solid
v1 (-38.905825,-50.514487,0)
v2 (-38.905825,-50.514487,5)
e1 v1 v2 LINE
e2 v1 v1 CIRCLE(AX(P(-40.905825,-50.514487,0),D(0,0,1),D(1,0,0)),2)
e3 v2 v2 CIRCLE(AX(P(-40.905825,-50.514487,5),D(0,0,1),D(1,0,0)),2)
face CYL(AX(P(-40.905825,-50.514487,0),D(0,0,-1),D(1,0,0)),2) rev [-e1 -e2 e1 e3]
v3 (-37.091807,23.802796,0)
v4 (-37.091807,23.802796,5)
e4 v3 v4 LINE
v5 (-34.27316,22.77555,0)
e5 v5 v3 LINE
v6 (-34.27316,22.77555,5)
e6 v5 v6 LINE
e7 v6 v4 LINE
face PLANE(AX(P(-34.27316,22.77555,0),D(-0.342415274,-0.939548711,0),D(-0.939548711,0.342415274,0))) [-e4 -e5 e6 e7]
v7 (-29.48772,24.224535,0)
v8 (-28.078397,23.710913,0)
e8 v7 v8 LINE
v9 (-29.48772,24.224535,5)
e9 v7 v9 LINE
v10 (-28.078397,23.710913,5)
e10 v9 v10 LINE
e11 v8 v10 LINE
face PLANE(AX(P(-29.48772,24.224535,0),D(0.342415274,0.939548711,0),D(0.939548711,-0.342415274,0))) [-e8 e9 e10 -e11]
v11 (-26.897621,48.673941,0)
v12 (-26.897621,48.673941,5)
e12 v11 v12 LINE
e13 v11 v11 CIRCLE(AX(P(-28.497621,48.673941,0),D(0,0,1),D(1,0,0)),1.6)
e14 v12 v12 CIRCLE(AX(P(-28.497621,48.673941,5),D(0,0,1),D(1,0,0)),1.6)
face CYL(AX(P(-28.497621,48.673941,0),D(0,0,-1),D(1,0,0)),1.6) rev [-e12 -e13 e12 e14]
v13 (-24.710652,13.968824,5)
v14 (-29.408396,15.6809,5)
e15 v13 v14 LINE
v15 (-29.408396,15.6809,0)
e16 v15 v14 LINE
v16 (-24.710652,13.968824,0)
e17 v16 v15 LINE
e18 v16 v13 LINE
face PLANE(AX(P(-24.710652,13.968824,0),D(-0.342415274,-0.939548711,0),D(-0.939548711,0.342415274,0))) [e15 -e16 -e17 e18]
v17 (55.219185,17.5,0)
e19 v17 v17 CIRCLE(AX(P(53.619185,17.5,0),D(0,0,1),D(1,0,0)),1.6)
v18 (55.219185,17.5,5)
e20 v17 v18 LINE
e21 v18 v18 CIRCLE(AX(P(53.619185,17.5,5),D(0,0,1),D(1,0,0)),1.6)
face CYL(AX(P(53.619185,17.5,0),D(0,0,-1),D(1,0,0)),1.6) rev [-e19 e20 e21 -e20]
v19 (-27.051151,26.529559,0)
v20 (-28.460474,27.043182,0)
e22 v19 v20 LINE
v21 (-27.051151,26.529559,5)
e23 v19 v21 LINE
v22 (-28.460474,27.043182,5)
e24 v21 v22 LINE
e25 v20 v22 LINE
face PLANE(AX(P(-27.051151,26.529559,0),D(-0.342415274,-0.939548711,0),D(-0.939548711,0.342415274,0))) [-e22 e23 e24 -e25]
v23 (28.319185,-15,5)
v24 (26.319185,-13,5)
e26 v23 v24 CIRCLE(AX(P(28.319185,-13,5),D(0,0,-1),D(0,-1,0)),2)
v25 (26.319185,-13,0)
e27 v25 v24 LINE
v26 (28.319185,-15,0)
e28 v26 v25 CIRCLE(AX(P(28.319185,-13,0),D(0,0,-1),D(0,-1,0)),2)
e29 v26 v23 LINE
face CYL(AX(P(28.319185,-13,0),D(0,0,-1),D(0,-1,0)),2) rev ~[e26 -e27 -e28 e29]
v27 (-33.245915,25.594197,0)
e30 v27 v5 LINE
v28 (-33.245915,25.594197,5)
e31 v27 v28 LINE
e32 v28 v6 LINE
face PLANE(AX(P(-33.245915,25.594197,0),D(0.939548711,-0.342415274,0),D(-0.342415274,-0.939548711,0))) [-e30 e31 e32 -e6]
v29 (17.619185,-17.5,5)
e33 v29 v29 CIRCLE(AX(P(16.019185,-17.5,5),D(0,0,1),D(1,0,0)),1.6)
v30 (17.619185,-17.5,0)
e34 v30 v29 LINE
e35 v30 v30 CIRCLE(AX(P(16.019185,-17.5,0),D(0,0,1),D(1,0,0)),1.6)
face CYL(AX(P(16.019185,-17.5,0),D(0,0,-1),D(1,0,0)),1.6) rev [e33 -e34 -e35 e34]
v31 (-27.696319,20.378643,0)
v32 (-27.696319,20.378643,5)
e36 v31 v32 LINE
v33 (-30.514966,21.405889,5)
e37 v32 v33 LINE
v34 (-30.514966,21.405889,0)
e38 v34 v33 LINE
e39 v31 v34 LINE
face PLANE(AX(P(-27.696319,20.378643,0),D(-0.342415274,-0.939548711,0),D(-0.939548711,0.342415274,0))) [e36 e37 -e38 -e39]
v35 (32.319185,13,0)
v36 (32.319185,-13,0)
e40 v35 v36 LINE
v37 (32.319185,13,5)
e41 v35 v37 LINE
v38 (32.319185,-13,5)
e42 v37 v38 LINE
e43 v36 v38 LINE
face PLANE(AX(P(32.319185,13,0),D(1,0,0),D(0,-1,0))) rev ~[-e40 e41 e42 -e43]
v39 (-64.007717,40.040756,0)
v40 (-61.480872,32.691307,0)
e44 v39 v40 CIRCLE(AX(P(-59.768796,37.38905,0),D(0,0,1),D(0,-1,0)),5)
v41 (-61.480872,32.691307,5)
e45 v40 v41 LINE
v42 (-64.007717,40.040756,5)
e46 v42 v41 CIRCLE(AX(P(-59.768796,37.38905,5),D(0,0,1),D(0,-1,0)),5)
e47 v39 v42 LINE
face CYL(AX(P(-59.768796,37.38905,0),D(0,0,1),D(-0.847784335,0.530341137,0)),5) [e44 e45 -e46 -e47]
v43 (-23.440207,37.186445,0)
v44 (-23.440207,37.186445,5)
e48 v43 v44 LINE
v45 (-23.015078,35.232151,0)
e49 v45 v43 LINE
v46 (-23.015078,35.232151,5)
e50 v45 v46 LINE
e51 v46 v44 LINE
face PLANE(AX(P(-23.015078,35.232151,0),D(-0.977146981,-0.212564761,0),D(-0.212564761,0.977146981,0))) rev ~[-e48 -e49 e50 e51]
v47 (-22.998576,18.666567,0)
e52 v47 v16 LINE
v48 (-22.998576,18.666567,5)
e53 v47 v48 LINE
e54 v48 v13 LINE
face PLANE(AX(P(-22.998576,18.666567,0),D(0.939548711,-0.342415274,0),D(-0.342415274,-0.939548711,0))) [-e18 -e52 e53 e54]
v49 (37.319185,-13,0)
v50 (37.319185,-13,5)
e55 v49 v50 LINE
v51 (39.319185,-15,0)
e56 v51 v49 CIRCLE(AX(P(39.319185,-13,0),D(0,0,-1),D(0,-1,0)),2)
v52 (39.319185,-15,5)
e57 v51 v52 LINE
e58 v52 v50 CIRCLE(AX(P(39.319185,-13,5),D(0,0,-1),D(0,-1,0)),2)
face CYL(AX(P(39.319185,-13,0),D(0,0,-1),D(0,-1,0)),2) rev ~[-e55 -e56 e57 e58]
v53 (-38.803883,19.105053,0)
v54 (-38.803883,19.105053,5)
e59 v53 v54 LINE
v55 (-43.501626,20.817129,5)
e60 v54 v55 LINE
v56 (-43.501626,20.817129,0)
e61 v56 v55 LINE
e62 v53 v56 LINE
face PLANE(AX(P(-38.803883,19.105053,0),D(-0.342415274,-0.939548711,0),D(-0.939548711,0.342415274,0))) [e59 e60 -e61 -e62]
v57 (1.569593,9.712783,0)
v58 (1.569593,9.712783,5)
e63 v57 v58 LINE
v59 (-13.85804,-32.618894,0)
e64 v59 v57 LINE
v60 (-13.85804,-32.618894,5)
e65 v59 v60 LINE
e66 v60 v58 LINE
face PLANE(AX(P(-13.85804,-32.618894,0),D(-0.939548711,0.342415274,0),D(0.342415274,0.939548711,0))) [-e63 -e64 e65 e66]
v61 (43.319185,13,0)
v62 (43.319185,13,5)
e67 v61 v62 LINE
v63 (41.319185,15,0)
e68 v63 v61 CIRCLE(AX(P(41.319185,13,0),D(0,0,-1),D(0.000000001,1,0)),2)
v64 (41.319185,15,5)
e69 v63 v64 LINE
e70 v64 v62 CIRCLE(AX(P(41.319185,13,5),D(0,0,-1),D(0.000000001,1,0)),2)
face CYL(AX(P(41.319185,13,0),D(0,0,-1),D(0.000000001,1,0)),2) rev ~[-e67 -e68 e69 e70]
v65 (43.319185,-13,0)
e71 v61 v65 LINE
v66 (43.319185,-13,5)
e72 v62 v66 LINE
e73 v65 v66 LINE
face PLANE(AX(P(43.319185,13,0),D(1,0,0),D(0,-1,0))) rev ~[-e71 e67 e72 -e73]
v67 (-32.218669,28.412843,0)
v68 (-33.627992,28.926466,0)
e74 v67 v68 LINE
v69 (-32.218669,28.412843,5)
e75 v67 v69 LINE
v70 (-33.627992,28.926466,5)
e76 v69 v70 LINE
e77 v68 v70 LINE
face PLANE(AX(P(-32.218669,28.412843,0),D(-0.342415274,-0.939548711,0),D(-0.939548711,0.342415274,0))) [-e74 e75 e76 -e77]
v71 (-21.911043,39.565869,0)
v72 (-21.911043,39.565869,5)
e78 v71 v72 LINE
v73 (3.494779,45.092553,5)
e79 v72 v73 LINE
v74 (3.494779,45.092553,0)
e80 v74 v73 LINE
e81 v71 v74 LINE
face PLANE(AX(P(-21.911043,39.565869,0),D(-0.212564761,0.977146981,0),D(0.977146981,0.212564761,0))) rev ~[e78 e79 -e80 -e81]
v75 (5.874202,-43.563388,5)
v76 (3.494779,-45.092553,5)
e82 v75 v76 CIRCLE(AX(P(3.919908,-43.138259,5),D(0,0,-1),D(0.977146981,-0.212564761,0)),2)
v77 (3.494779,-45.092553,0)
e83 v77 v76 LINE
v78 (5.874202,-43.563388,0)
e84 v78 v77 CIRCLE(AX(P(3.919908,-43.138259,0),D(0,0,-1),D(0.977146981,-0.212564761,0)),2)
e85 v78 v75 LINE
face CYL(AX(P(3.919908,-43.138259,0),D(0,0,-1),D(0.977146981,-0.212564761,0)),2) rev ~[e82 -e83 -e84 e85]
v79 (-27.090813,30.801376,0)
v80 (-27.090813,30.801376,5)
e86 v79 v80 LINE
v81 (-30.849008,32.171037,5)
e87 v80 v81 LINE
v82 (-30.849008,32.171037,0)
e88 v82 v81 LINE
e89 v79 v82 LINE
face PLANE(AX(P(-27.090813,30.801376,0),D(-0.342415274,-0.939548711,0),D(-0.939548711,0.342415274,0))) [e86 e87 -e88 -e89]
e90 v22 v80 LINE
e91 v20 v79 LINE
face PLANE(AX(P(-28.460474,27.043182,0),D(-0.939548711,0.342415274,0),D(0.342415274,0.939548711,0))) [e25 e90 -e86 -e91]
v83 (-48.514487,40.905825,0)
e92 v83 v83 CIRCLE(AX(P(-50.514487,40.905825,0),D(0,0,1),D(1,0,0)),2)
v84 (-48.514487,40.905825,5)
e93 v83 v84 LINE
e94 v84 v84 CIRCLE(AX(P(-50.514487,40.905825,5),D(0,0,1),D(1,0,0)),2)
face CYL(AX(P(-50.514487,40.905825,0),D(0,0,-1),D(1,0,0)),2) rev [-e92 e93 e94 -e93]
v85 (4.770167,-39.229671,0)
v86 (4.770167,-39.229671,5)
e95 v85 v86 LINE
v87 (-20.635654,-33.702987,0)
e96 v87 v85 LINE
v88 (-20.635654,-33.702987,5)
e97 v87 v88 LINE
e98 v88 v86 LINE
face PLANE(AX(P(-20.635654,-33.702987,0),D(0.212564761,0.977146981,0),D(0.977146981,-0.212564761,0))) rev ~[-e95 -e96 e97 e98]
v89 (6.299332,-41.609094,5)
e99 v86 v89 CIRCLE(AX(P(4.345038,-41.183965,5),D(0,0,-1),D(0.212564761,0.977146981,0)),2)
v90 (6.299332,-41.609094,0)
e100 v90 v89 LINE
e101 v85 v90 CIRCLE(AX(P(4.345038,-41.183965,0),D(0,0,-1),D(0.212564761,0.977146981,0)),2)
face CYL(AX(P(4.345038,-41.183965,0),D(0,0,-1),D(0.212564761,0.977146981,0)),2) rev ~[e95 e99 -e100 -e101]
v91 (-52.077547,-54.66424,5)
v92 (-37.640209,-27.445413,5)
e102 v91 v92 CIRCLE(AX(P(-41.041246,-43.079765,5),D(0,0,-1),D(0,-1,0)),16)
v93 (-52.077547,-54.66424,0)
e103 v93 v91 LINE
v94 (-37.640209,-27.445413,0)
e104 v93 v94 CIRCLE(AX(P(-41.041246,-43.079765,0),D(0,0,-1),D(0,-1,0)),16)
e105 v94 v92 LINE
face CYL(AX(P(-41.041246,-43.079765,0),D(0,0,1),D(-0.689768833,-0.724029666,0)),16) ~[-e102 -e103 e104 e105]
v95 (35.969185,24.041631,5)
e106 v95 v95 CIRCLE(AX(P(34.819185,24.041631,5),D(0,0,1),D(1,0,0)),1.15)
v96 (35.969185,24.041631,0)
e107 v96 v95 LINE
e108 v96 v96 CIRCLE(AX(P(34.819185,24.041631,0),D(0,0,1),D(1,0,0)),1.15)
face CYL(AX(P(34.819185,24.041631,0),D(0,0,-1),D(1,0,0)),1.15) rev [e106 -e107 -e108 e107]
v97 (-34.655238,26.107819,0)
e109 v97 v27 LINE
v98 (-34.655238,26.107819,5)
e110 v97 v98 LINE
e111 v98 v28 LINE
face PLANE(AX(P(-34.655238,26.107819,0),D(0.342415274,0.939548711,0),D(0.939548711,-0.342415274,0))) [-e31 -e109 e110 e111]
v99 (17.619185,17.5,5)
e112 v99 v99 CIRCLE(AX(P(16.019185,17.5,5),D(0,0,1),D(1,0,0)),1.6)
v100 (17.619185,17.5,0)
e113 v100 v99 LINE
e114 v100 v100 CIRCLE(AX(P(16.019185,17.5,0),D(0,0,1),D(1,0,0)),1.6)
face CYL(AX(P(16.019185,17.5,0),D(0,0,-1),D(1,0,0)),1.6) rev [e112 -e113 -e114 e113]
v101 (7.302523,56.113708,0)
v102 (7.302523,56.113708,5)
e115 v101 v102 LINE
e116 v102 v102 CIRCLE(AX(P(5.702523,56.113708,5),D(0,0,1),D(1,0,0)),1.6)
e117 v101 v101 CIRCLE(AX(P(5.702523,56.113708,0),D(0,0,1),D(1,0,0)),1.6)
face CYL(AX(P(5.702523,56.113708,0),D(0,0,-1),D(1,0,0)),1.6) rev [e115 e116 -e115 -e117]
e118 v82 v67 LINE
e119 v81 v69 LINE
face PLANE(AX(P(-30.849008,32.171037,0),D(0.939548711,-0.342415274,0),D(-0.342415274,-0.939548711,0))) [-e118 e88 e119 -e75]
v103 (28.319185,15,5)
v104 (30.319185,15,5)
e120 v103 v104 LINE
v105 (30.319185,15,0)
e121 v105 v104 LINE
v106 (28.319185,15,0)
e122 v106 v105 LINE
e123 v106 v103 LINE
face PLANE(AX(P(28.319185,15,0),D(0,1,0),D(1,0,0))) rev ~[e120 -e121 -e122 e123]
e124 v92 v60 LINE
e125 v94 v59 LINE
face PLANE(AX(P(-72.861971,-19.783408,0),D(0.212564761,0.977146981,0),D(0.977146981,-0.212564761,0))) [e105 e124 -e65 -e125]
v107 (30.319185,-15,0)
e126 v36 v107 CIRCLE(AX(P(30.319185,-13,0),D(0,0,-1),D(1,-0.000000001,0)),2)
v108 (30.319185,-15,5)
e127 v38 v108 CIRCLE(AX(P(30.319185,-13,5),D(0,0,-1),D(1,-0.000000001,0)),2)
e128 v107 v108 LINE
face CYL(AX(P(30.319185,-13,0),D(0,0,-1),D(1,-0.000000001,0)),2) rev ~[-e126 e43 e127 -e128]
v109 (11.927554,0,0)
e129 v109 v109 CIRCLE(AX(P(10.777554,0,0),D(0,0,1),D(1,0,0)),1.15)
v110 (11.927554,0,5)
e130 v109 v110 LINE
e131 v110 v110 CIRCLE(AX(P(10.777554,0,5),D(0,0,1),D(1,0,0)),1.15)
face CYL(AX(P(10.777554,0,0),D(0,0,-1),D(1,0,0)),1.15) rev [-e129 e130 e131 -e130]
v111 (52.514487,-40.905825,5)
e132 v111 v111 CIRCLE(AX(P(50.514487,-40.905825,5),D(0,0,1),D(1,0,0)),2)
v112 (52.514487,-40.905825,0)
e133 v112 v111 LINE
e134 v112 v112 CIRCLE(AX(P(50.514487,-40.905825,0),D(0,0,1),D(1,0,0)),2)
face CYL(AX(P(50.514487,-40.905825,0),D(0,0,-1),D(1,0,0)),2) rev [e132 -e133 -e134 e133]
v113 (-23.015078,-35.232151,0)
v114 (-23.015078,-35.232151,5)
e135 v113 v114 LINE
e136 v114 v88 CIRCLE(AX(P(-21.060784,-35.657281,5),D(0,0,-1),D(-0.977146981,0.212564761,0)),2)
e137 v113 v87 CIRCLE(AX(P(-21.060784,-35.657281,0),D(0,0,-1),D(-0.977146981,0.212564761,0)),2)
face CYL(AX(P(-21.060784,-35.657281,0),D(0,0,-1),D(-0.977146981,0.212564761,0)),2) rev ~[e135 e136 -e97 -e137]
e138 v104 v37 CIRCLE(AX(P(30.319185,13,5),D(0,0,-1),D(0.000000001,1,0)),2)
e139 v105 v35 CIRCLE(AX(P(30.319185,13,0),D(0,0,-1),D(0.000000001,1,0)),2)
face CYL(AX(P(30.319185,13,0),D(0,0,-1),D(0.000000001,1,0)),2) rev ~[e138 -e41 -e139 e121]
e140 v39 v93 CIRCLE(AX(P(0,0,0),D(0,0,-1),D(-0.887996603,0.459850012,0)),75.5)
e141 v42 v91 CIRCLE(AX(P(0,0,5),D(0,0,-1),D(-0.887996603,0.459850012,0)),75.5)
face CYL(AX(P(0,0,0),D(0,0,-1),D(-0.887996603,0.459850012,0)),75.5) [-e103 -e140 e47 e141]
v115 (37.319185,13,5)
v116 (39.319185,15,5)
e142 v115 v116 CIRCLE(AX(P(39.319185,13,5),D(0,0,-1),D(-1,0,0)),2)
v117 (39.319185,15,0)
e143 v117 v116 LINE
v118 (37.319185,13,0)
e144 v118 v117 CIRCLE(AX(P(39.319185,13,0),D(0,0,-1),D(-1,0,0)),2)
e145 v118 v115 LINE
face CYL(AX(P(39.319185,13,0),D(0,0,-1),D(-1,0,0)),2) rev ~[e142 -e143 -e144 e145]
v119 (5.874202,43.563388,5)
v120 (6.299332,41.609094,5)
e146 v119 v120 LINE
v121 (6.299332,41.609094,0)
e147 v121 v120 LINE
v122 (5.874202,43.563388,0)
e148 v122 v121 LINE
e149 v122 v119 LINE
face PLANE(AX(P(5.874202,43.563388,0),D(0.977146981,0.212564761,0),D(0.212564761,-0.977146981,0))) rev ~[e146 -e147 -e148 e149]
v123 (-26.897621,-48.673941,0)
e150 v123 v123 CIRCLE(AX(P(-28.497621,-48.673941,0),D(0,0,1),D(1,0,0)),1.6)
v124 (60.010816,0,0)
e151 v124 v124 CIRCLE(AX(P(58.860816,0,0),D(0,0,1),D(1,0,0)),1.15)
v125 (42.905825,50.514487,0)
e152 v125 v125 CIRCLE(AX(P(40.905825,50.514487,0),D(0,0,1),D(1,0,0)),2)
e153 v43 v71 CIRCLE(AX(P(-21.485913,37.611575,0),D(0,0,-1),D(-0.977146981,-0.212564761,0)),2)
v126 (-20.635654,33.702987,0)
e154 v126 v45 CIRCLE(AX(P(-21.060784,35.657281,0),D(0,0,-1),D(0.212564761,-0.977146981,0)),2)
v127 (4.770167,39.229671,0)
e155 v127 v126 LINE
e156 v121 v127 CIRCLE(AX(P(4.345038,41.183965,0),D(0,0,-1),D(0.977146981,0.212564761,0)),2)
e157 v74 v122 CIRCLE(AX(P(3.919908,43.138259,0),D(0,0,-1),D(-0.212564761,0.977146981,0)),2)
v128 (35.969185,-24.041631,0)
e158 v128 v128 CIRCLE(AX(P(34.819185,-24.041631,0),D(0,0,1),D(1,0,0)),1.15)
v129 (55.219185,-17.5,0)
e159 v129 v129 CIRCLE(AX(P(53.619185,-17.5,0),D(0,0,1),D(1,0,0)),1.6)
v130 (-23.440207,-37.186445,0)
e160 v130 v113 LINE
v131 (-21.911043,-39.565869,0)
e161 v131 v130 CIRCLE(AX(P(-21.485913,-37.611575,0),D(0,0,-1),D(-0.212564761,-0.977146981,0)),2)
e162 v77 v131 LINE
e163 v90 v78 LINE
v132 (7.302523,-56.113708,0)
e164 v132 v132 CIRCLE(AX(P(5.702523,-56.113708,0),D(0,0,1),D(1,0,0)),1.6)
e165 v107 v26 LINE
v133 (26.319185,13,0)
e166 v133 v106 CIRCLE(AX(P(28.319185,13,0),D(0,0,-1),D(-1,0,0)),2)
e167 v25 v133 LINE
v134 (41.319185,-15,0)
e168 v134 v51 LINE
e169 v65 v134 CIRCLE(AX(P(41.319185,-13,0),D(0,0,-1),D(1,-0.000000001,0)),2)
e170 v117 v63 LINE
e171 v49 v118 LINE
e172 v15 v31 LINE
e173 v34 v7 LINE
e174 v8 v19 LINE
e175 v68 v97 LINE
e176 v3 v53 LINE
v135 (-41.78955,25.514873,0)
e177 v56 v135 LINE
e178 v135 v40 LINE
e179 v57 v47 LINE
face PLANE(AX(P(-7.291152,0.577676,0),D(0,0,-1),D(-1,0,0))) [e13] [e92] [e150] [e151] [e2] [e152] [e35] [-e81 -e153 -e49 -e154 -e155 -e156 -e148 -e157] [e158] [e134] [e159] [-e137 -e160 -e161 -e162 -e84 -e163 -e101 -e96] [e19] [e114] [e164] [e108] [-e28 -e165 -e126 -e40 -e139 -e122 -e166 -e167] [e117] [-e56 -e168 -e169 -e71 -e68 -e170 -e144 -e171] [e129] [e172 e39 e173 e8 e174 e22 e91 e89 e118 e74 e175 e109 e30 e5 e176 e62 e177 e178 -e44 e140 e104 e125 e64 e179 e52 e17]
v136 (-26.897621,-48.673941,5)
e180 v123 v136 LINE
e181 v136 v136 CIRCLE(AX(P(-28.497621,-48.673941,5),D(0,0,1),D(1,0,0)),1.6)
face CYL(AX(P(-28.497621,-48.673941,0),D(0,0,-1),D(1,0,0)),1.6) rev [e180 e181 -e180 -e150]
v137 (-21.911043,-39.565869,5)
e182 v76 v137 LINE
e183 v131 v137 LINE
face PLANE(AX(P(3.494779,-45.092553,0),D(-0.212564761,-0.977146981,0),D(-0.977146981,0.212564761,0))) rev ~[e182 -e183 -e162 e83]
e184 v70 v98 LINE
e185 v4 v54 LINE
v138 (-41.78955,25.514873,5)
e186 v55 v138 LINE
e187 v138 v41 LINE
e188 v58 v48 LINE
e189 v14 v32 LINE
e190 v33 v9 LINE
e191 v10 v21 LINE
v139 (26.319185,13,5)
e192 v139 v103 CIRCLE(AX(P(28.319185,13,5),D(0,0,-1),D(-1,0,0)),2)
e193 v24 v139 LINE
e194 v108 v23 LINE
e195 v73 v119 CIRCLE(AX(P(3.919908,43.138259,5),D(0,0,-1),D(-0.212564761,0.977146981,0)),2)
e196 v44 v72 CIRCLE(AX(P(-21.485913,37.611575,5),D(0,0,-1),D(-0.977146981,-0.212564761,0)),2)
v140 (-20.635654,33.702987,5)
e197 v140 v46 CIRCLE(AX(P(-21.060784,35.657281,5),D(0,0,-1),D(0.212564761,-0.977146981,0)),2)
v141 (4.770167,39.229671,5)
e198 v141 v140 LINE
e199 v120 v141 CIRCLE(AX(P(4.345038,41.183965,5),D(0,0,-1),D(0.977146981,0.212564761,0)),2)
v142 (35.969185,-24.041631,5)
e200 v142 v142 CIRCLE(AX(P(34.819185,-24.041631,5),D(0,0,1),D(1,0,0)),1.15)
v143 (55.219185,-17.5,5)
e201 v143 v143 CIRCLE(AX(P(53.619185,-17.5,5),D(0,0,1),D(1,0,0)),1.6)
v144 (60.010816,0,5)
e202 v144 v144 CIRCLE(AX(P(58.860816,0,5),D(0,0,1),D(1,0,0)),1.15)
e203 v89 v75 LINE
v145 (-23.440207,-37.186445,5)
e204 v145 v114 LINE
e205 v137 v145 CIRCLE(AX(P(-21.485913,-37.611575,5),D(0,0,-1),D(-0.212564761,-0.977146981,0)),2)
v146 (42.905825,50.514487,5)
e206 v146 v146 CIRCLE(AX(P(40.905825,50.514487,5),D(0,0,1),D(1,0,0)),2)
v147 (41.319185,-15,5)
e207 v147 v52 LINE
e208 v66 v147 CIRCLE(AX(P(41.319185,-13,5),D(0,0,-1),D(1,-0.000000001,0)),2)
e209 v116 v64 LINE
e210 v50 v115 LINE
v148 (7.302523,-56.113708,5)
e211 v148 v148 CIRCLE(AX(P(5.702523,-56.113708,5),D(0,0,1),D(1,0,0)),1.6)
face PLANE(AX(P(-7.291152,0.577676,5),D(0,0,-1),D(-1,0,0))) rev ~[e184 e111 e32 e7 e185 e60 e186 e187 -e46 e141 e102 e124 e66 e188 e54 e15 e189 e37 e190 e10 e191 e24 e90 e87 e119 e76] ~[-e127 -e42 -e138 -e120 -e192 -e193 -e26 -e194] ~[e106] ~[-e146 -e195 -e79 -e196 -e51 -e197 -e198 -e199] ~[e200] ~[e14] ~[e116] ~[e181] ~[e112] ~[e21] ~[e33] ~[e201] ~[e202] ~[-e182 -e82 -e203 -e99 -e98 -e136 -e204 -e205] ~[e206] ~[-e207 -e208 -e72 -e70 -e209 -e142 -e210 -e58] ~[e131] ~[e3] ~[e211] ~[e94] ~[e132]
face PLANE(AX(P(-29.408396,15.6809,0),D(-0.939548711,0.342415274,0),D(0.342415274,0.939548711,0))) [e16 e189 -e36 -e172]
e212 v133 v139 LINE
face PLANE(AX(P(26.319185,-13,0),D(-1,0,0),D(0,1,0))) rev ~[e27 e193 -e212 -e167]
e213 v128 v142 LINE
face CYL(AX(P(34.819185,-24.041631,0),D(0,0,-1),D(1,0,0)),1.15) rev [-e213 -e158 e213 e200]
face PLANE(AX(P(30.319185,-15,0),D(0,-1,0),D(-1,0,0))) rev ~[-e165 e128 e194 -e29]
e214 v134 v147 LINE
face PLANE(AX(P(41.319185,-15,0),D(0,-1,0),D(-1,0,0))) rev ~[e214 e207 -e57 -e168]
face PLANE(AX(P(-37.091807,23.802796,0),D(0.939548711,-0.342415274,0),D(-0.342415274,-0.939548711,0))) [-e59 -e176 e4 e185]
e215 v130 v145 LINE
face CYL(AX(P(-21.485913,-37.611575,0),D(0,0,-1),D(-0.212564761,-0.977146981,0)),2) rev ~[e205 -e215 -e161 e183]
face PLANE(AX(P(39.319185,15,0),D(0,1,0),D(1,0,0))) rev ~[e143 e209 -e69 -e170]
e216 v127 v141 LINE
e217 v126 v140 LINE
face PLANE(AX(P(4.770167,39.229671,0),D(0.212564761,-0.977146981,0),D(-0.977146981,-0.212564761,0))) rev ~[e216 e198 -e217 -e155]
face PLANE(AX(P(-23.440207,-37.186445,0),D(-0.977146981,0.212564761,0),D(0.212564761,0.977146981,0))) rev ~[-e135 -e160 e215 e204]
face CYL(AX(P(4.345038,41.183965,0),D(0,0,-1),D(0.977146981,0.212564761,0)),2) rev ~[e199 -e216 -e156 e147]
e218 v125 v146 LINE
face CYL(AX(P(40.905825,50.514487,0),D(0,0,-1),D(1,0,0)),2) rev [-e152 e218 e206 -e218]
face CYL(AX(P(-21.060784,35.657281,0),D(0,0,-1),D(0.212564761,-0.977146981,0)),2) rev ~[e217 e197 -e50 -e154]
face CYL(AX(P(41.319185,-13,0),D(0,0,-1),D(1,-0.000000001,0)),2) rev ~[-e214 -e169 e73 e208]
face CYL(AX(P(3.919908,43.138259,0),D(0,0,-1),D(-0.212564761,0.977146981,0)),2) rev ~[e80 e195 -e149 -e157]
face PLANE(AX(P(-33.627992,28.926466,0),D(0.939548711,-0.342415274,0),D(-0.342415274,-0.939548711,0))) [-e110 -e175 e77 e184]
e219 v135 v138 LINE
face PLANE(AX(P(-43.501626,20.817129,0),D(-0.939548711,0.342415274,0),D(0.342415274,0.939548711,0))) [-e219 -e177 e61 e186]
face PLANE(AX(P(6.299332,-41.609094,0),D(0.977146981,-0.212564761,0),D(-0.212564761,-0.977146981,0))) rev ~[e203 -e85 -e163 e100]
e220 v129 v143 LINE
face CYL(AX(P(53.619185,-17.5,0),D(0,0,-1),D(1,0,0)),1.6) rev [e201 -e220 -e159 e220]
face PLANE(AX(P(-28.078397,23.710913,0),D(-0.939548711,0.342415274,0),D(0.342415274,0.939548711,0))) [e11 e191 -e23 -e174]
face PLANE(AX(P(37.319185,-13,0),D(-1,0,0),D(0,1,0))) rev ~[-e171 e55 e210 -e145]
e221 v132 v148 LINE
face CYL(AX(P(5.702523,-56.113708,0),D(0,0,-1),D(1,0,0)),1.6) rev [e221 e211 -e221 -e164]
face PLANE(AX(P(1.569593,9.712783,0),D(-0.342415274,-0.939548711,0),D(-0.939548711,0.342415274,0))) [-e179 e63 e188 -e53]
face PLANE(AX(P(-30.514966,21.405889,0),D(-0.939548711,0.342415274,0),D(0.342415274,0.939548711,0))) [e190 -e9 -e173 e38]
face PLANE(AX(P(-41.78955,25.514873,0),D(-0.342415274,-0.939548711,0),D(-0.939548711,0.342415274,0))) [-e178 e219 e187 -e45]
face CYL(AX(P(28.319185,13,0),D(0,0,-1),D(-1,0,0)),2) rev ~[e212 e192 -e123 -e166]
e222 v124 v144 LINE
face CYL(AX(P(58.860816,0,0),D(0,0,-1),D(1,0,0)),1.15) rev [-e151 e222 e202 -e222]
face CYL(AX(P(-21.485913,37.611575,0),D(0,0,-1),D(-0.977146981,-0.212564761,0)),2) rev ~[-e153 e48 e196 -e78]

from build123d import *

# Parameters (mm, degrees)
ESQUISSE1_R        = 2
ESQUISSE1_R_2      = 1.6
ESQUISSE1_R_3      = 1.15
BOSS_EXTRU_1_DEPTH = 5
CONG_1_R           = 16
CONG_2_R           = 5


with BuildPart() as part:
    # Esquisse1 → Boss.-Extru.1 (new body)
    with BuildSketch(Plane.XY):
        with BuildLine():
            Line((-41.789550091, 25.514872575), (-67.043743505, 34.718675909))
            ThreePointArc((-67.043743505, 34.718675909), (75.07344073, -8.014268337), (-72.8619706, -19.783408206))
            Line((-72.8619706, -19.783408206), (-13.85803971, -32.618894281))
            Line((-13.85803971, -32.618894281), (1.569593433, 9.712782871))
            Line((1.569593433, 9.712782871), (-22.998575873, 18.666567095))
            Line((-22.998575873, 18.666567095), (-24.710652243, 13.96882354))
            Line((-24.710652243, 13.96882354), (-29.408395797, 15.68089991))
            Line((-29.408395797, 15.68089991), (-27.696319427, 20.378643465))
            Line((-27.696319427, 20.378643465), (-30.51496556, 21.405889287))
            Line((-30.51496556, 21.405889287), (-29.487719738, 24.224535419))
            Line((-29.487719738, 24.224535419), (-28.078396672, 23.710912508))
            Line((-28.078396672, 23.710912508), (-27.05115085, 26.529558641))
            Line((-27.05115085, 26.529558641), (-28.460473916, 27.043181552))
            Line((-28.460473916, 27.043181552), (-27.09081282, 30.801376396))
            Line((-27.09081282, 30.801376396), (-30.849007664, 32.171037492))
            Line((-30.849007664, 32.171037492), (-32.21866876, 28.412842648))
            Line((-32.21866876, 28.412842648), (-33.627991826, 28.926465559))
            Line((-33.627991826, 28.926465559), (-34.655237648, 26.107819426))
            Line((-34.655237648, 26.107819426), (-33.245914582, 25.594196515))
            Line((-33.245914582, 25.594196515), (-34.273160404, 22.775550383))
            Line((-34.273160404, 22.775550383), (-37.091806536, 23.802796205))
            Line((-37.091806536, 23.802796205), (-38.803882906, 19.10505265))
            Line((-38.803882906, 19.10505265), (-43.501626461, 20.81712902))
            Line((-43.501626461, 20.81712902), (-41.789550091, 25.514872575))
        make_face()
        with Locations((40.905825418, 50.514487495)):
            Circle(ESQUISSE1_R, mode=Mode.SUBTRACT)
        with Locations((-50.514487495, 40.905825418)):
            Circle(ESQUISSE1_R, mode=Mode.SUBTRACT)
        with Locations((50.514487495, -40.905825418)):
            Circle(ESQUISSE1_R, mode=Mode.SUBTRACT)
        with Locations((-40.905825418, -50.514487495)):
            Circle(ESQUISSE1_R, mode=Mode.SUBTRACT)
        with Locations((-28.497621404, 48.673941395)):
            Circle(ESQUISSE1_R_2, mode=Mode.SUBTRACT)
        with Locations((5.702522929, 56.11370803)):
            Circle(ESQUISSE1_R_2, mode=Mode.SUBTRACT)
        with Locations((5.702522929, -56.11370803)):
            Circle(ESQUISSE1_R_2, mode=Mode.SUBTRACT)
        with Locations((-28.497621404, -48.673941395)):
            Circle(ESQUISSE1_R_2, mode=Mode.SUBTRACT)
        with Locations((53.619184968, 17.5)):
            Circle(ESQUISSE1_R_2, mode=Mode.SUBTRACT)
        with Locations((53.619184968, -17.5)):
            Circle(ESQUISSE1_R_2, mode=Mode.SUBTRACT)
        with Locations((16.019184968, -17.5)):
            Circle(ESQUISSE1_R_2, mode=Mode.SUBTRACT)
        with Locations((16.019184968, 17.5)):
            Circle(ESQUISSE1_R_2, mode=Mode.SUBTRACT)
        with Locations((10.777554407, 0)):
            Circle(ESQUISSE1_R_3, mode=Mode.SUBTRACT)
        with Locations((34.819184968, 24.04163056)):
            Circle(ESQUISSE1_R_3, mode=Mode.SUBTRACT)
        with Locations((58.860815528, 0)):
            Circle(ESQUISSE1_R_3, mode=Mode.SUBTRACT)
        with Locations((34.819184968, -24.04163056)):
            Circle(ESQUISSE1_R_3, mode=Mode.SUBTRACT)
        with BuildLine():
            Line((-23.015077869, 35.23215147), (-23.440207391, 37.186445432))
            ThreePointArc((-23.440207391, 37.186445432), (-23.16841991, 38.692857499), (-21.911042951, 39.565868916))
            Line((-21.911042951, 39.565868916), (3.494778553, 45.092552701))
            ThreePointArc((3.494778553, 45.092552701), (5.00119062, 44.82076522), (5.874202037, 43.563388261))
            Line((5.874202037, 43.563388261), (6.299331559, 41.6090943))
            ThreePointArc((6.299331559, 41.6090943), (6.027544078, 40.102682233), (4.770167119, 39.229670816))
            Line((4.770167119, 39.229670816), (-20.635654385, 33.70298703))
            ThreePointArc((-20.635654385, 33.70298703), (-22.142066452, 33.974774511), (-23.015077869, 35.23215147))
        make_face(mode=Mode.SUBTRACT)
        with BuildLine():
            Line((6.299331559, -41.6090943), (5.874202037, -43.563388261))
            ThreePointArc((5.874202037, -43.563388261), (5.00119062, -44.82076522), (3.494778553, -45.092552701))
            Line((3.494778553, -45.092552701), (-21.911042951, -39.565868916))
            ThreePointArc((-21.911042951, -39.565868916), (-23.16841991, -38.692857499), (-23.440207391, -37.186445432))
            Line((-23.440207391, -37.186445432), (-23.015077869, -35.23215147))
            ThreePointArc((-23.015077869, -35.23215147), (-22.142066452, -33.974774511), (-20.635654385, -33.70298703))
            Line((-20.635654385, -33.70298703), (4.770167119, -39.229670816))
            ThreePointArc((4.770167119, -39.229670816), (6.027544078, -40.102682233), (6.299331559, -41.6090943))
        make_face(mode=Mode.SUBTRACT)
        with BuildLine():
            Line((39.319184968, 15), (41.319184968, 15))
            ThreePointArc((41.319184968, 15), (42.73339853, 14.414213562), (43.319184968, 13))
            Line((43.319184968, 13), (43.319184968, -13))
            ThreePointArc((43.319184968, -13), (42.73339853, -14.414213562), (41.319184968, -15))
            Line((41.319184968, -15), (39.319184968, -15))
            ThreePointArc((39.319184968, -15), (37.904971405, -14.414213562), (37.319184968, -13))
            Line((37.319184968, -13), (37.319184968, 13))
            ThreePointArc((37.319184968, 13), (37.904971405, 14.414213562), (39.319184968, 15))
        make_face(mode=Mode.SUBTRACT)
        with BuildLine():
            Line((30.319184968, -15), (28.319184968, -15))
            ThreePointArc((28.319184968, -15), (26.904971405, -14.414213562), (26.319184968, -13))
            Line((26.319184968, -13), (26.319184968, 13))
            ThreePointArc((26.319184968, 13), (26.904971405, 14.414213562), (28.319184968, 15))
            Line((28.319184968, 15), (30.319184968, 15))
            ThreePointArc((30.319184968, 15), (31.73339853, 14.414213562), (32.319184968, 13))
            Line((32.319184968, 13), (32.319184968, -13))
            ThreePointArc((32.319184968, -13), (31.73339853, -14.414213562), (30.319184968, -15))
        make_face(mode=Mode.SUBTRACT)
    extrude(amount=BOSS_EXTRU_1_DEPTH)

    # Congé1
    cong_1_edges = [part.edges().sort_by_distance(p)[0] for p in [
        (-72.8619706, -19.783408206, 2.5),
    ]]
    fillet(cong_1_edges, radius=CONG_1_R)

    # Congé2
    cong_2_edges = [part.edges().sort_by_distance(p)[0] for p in [
        (-67.043743505, 34.718675909, 2.5),
    ]]
    fillet(cong_2_edges, radius=CONG_2_R)


solid = part.part
